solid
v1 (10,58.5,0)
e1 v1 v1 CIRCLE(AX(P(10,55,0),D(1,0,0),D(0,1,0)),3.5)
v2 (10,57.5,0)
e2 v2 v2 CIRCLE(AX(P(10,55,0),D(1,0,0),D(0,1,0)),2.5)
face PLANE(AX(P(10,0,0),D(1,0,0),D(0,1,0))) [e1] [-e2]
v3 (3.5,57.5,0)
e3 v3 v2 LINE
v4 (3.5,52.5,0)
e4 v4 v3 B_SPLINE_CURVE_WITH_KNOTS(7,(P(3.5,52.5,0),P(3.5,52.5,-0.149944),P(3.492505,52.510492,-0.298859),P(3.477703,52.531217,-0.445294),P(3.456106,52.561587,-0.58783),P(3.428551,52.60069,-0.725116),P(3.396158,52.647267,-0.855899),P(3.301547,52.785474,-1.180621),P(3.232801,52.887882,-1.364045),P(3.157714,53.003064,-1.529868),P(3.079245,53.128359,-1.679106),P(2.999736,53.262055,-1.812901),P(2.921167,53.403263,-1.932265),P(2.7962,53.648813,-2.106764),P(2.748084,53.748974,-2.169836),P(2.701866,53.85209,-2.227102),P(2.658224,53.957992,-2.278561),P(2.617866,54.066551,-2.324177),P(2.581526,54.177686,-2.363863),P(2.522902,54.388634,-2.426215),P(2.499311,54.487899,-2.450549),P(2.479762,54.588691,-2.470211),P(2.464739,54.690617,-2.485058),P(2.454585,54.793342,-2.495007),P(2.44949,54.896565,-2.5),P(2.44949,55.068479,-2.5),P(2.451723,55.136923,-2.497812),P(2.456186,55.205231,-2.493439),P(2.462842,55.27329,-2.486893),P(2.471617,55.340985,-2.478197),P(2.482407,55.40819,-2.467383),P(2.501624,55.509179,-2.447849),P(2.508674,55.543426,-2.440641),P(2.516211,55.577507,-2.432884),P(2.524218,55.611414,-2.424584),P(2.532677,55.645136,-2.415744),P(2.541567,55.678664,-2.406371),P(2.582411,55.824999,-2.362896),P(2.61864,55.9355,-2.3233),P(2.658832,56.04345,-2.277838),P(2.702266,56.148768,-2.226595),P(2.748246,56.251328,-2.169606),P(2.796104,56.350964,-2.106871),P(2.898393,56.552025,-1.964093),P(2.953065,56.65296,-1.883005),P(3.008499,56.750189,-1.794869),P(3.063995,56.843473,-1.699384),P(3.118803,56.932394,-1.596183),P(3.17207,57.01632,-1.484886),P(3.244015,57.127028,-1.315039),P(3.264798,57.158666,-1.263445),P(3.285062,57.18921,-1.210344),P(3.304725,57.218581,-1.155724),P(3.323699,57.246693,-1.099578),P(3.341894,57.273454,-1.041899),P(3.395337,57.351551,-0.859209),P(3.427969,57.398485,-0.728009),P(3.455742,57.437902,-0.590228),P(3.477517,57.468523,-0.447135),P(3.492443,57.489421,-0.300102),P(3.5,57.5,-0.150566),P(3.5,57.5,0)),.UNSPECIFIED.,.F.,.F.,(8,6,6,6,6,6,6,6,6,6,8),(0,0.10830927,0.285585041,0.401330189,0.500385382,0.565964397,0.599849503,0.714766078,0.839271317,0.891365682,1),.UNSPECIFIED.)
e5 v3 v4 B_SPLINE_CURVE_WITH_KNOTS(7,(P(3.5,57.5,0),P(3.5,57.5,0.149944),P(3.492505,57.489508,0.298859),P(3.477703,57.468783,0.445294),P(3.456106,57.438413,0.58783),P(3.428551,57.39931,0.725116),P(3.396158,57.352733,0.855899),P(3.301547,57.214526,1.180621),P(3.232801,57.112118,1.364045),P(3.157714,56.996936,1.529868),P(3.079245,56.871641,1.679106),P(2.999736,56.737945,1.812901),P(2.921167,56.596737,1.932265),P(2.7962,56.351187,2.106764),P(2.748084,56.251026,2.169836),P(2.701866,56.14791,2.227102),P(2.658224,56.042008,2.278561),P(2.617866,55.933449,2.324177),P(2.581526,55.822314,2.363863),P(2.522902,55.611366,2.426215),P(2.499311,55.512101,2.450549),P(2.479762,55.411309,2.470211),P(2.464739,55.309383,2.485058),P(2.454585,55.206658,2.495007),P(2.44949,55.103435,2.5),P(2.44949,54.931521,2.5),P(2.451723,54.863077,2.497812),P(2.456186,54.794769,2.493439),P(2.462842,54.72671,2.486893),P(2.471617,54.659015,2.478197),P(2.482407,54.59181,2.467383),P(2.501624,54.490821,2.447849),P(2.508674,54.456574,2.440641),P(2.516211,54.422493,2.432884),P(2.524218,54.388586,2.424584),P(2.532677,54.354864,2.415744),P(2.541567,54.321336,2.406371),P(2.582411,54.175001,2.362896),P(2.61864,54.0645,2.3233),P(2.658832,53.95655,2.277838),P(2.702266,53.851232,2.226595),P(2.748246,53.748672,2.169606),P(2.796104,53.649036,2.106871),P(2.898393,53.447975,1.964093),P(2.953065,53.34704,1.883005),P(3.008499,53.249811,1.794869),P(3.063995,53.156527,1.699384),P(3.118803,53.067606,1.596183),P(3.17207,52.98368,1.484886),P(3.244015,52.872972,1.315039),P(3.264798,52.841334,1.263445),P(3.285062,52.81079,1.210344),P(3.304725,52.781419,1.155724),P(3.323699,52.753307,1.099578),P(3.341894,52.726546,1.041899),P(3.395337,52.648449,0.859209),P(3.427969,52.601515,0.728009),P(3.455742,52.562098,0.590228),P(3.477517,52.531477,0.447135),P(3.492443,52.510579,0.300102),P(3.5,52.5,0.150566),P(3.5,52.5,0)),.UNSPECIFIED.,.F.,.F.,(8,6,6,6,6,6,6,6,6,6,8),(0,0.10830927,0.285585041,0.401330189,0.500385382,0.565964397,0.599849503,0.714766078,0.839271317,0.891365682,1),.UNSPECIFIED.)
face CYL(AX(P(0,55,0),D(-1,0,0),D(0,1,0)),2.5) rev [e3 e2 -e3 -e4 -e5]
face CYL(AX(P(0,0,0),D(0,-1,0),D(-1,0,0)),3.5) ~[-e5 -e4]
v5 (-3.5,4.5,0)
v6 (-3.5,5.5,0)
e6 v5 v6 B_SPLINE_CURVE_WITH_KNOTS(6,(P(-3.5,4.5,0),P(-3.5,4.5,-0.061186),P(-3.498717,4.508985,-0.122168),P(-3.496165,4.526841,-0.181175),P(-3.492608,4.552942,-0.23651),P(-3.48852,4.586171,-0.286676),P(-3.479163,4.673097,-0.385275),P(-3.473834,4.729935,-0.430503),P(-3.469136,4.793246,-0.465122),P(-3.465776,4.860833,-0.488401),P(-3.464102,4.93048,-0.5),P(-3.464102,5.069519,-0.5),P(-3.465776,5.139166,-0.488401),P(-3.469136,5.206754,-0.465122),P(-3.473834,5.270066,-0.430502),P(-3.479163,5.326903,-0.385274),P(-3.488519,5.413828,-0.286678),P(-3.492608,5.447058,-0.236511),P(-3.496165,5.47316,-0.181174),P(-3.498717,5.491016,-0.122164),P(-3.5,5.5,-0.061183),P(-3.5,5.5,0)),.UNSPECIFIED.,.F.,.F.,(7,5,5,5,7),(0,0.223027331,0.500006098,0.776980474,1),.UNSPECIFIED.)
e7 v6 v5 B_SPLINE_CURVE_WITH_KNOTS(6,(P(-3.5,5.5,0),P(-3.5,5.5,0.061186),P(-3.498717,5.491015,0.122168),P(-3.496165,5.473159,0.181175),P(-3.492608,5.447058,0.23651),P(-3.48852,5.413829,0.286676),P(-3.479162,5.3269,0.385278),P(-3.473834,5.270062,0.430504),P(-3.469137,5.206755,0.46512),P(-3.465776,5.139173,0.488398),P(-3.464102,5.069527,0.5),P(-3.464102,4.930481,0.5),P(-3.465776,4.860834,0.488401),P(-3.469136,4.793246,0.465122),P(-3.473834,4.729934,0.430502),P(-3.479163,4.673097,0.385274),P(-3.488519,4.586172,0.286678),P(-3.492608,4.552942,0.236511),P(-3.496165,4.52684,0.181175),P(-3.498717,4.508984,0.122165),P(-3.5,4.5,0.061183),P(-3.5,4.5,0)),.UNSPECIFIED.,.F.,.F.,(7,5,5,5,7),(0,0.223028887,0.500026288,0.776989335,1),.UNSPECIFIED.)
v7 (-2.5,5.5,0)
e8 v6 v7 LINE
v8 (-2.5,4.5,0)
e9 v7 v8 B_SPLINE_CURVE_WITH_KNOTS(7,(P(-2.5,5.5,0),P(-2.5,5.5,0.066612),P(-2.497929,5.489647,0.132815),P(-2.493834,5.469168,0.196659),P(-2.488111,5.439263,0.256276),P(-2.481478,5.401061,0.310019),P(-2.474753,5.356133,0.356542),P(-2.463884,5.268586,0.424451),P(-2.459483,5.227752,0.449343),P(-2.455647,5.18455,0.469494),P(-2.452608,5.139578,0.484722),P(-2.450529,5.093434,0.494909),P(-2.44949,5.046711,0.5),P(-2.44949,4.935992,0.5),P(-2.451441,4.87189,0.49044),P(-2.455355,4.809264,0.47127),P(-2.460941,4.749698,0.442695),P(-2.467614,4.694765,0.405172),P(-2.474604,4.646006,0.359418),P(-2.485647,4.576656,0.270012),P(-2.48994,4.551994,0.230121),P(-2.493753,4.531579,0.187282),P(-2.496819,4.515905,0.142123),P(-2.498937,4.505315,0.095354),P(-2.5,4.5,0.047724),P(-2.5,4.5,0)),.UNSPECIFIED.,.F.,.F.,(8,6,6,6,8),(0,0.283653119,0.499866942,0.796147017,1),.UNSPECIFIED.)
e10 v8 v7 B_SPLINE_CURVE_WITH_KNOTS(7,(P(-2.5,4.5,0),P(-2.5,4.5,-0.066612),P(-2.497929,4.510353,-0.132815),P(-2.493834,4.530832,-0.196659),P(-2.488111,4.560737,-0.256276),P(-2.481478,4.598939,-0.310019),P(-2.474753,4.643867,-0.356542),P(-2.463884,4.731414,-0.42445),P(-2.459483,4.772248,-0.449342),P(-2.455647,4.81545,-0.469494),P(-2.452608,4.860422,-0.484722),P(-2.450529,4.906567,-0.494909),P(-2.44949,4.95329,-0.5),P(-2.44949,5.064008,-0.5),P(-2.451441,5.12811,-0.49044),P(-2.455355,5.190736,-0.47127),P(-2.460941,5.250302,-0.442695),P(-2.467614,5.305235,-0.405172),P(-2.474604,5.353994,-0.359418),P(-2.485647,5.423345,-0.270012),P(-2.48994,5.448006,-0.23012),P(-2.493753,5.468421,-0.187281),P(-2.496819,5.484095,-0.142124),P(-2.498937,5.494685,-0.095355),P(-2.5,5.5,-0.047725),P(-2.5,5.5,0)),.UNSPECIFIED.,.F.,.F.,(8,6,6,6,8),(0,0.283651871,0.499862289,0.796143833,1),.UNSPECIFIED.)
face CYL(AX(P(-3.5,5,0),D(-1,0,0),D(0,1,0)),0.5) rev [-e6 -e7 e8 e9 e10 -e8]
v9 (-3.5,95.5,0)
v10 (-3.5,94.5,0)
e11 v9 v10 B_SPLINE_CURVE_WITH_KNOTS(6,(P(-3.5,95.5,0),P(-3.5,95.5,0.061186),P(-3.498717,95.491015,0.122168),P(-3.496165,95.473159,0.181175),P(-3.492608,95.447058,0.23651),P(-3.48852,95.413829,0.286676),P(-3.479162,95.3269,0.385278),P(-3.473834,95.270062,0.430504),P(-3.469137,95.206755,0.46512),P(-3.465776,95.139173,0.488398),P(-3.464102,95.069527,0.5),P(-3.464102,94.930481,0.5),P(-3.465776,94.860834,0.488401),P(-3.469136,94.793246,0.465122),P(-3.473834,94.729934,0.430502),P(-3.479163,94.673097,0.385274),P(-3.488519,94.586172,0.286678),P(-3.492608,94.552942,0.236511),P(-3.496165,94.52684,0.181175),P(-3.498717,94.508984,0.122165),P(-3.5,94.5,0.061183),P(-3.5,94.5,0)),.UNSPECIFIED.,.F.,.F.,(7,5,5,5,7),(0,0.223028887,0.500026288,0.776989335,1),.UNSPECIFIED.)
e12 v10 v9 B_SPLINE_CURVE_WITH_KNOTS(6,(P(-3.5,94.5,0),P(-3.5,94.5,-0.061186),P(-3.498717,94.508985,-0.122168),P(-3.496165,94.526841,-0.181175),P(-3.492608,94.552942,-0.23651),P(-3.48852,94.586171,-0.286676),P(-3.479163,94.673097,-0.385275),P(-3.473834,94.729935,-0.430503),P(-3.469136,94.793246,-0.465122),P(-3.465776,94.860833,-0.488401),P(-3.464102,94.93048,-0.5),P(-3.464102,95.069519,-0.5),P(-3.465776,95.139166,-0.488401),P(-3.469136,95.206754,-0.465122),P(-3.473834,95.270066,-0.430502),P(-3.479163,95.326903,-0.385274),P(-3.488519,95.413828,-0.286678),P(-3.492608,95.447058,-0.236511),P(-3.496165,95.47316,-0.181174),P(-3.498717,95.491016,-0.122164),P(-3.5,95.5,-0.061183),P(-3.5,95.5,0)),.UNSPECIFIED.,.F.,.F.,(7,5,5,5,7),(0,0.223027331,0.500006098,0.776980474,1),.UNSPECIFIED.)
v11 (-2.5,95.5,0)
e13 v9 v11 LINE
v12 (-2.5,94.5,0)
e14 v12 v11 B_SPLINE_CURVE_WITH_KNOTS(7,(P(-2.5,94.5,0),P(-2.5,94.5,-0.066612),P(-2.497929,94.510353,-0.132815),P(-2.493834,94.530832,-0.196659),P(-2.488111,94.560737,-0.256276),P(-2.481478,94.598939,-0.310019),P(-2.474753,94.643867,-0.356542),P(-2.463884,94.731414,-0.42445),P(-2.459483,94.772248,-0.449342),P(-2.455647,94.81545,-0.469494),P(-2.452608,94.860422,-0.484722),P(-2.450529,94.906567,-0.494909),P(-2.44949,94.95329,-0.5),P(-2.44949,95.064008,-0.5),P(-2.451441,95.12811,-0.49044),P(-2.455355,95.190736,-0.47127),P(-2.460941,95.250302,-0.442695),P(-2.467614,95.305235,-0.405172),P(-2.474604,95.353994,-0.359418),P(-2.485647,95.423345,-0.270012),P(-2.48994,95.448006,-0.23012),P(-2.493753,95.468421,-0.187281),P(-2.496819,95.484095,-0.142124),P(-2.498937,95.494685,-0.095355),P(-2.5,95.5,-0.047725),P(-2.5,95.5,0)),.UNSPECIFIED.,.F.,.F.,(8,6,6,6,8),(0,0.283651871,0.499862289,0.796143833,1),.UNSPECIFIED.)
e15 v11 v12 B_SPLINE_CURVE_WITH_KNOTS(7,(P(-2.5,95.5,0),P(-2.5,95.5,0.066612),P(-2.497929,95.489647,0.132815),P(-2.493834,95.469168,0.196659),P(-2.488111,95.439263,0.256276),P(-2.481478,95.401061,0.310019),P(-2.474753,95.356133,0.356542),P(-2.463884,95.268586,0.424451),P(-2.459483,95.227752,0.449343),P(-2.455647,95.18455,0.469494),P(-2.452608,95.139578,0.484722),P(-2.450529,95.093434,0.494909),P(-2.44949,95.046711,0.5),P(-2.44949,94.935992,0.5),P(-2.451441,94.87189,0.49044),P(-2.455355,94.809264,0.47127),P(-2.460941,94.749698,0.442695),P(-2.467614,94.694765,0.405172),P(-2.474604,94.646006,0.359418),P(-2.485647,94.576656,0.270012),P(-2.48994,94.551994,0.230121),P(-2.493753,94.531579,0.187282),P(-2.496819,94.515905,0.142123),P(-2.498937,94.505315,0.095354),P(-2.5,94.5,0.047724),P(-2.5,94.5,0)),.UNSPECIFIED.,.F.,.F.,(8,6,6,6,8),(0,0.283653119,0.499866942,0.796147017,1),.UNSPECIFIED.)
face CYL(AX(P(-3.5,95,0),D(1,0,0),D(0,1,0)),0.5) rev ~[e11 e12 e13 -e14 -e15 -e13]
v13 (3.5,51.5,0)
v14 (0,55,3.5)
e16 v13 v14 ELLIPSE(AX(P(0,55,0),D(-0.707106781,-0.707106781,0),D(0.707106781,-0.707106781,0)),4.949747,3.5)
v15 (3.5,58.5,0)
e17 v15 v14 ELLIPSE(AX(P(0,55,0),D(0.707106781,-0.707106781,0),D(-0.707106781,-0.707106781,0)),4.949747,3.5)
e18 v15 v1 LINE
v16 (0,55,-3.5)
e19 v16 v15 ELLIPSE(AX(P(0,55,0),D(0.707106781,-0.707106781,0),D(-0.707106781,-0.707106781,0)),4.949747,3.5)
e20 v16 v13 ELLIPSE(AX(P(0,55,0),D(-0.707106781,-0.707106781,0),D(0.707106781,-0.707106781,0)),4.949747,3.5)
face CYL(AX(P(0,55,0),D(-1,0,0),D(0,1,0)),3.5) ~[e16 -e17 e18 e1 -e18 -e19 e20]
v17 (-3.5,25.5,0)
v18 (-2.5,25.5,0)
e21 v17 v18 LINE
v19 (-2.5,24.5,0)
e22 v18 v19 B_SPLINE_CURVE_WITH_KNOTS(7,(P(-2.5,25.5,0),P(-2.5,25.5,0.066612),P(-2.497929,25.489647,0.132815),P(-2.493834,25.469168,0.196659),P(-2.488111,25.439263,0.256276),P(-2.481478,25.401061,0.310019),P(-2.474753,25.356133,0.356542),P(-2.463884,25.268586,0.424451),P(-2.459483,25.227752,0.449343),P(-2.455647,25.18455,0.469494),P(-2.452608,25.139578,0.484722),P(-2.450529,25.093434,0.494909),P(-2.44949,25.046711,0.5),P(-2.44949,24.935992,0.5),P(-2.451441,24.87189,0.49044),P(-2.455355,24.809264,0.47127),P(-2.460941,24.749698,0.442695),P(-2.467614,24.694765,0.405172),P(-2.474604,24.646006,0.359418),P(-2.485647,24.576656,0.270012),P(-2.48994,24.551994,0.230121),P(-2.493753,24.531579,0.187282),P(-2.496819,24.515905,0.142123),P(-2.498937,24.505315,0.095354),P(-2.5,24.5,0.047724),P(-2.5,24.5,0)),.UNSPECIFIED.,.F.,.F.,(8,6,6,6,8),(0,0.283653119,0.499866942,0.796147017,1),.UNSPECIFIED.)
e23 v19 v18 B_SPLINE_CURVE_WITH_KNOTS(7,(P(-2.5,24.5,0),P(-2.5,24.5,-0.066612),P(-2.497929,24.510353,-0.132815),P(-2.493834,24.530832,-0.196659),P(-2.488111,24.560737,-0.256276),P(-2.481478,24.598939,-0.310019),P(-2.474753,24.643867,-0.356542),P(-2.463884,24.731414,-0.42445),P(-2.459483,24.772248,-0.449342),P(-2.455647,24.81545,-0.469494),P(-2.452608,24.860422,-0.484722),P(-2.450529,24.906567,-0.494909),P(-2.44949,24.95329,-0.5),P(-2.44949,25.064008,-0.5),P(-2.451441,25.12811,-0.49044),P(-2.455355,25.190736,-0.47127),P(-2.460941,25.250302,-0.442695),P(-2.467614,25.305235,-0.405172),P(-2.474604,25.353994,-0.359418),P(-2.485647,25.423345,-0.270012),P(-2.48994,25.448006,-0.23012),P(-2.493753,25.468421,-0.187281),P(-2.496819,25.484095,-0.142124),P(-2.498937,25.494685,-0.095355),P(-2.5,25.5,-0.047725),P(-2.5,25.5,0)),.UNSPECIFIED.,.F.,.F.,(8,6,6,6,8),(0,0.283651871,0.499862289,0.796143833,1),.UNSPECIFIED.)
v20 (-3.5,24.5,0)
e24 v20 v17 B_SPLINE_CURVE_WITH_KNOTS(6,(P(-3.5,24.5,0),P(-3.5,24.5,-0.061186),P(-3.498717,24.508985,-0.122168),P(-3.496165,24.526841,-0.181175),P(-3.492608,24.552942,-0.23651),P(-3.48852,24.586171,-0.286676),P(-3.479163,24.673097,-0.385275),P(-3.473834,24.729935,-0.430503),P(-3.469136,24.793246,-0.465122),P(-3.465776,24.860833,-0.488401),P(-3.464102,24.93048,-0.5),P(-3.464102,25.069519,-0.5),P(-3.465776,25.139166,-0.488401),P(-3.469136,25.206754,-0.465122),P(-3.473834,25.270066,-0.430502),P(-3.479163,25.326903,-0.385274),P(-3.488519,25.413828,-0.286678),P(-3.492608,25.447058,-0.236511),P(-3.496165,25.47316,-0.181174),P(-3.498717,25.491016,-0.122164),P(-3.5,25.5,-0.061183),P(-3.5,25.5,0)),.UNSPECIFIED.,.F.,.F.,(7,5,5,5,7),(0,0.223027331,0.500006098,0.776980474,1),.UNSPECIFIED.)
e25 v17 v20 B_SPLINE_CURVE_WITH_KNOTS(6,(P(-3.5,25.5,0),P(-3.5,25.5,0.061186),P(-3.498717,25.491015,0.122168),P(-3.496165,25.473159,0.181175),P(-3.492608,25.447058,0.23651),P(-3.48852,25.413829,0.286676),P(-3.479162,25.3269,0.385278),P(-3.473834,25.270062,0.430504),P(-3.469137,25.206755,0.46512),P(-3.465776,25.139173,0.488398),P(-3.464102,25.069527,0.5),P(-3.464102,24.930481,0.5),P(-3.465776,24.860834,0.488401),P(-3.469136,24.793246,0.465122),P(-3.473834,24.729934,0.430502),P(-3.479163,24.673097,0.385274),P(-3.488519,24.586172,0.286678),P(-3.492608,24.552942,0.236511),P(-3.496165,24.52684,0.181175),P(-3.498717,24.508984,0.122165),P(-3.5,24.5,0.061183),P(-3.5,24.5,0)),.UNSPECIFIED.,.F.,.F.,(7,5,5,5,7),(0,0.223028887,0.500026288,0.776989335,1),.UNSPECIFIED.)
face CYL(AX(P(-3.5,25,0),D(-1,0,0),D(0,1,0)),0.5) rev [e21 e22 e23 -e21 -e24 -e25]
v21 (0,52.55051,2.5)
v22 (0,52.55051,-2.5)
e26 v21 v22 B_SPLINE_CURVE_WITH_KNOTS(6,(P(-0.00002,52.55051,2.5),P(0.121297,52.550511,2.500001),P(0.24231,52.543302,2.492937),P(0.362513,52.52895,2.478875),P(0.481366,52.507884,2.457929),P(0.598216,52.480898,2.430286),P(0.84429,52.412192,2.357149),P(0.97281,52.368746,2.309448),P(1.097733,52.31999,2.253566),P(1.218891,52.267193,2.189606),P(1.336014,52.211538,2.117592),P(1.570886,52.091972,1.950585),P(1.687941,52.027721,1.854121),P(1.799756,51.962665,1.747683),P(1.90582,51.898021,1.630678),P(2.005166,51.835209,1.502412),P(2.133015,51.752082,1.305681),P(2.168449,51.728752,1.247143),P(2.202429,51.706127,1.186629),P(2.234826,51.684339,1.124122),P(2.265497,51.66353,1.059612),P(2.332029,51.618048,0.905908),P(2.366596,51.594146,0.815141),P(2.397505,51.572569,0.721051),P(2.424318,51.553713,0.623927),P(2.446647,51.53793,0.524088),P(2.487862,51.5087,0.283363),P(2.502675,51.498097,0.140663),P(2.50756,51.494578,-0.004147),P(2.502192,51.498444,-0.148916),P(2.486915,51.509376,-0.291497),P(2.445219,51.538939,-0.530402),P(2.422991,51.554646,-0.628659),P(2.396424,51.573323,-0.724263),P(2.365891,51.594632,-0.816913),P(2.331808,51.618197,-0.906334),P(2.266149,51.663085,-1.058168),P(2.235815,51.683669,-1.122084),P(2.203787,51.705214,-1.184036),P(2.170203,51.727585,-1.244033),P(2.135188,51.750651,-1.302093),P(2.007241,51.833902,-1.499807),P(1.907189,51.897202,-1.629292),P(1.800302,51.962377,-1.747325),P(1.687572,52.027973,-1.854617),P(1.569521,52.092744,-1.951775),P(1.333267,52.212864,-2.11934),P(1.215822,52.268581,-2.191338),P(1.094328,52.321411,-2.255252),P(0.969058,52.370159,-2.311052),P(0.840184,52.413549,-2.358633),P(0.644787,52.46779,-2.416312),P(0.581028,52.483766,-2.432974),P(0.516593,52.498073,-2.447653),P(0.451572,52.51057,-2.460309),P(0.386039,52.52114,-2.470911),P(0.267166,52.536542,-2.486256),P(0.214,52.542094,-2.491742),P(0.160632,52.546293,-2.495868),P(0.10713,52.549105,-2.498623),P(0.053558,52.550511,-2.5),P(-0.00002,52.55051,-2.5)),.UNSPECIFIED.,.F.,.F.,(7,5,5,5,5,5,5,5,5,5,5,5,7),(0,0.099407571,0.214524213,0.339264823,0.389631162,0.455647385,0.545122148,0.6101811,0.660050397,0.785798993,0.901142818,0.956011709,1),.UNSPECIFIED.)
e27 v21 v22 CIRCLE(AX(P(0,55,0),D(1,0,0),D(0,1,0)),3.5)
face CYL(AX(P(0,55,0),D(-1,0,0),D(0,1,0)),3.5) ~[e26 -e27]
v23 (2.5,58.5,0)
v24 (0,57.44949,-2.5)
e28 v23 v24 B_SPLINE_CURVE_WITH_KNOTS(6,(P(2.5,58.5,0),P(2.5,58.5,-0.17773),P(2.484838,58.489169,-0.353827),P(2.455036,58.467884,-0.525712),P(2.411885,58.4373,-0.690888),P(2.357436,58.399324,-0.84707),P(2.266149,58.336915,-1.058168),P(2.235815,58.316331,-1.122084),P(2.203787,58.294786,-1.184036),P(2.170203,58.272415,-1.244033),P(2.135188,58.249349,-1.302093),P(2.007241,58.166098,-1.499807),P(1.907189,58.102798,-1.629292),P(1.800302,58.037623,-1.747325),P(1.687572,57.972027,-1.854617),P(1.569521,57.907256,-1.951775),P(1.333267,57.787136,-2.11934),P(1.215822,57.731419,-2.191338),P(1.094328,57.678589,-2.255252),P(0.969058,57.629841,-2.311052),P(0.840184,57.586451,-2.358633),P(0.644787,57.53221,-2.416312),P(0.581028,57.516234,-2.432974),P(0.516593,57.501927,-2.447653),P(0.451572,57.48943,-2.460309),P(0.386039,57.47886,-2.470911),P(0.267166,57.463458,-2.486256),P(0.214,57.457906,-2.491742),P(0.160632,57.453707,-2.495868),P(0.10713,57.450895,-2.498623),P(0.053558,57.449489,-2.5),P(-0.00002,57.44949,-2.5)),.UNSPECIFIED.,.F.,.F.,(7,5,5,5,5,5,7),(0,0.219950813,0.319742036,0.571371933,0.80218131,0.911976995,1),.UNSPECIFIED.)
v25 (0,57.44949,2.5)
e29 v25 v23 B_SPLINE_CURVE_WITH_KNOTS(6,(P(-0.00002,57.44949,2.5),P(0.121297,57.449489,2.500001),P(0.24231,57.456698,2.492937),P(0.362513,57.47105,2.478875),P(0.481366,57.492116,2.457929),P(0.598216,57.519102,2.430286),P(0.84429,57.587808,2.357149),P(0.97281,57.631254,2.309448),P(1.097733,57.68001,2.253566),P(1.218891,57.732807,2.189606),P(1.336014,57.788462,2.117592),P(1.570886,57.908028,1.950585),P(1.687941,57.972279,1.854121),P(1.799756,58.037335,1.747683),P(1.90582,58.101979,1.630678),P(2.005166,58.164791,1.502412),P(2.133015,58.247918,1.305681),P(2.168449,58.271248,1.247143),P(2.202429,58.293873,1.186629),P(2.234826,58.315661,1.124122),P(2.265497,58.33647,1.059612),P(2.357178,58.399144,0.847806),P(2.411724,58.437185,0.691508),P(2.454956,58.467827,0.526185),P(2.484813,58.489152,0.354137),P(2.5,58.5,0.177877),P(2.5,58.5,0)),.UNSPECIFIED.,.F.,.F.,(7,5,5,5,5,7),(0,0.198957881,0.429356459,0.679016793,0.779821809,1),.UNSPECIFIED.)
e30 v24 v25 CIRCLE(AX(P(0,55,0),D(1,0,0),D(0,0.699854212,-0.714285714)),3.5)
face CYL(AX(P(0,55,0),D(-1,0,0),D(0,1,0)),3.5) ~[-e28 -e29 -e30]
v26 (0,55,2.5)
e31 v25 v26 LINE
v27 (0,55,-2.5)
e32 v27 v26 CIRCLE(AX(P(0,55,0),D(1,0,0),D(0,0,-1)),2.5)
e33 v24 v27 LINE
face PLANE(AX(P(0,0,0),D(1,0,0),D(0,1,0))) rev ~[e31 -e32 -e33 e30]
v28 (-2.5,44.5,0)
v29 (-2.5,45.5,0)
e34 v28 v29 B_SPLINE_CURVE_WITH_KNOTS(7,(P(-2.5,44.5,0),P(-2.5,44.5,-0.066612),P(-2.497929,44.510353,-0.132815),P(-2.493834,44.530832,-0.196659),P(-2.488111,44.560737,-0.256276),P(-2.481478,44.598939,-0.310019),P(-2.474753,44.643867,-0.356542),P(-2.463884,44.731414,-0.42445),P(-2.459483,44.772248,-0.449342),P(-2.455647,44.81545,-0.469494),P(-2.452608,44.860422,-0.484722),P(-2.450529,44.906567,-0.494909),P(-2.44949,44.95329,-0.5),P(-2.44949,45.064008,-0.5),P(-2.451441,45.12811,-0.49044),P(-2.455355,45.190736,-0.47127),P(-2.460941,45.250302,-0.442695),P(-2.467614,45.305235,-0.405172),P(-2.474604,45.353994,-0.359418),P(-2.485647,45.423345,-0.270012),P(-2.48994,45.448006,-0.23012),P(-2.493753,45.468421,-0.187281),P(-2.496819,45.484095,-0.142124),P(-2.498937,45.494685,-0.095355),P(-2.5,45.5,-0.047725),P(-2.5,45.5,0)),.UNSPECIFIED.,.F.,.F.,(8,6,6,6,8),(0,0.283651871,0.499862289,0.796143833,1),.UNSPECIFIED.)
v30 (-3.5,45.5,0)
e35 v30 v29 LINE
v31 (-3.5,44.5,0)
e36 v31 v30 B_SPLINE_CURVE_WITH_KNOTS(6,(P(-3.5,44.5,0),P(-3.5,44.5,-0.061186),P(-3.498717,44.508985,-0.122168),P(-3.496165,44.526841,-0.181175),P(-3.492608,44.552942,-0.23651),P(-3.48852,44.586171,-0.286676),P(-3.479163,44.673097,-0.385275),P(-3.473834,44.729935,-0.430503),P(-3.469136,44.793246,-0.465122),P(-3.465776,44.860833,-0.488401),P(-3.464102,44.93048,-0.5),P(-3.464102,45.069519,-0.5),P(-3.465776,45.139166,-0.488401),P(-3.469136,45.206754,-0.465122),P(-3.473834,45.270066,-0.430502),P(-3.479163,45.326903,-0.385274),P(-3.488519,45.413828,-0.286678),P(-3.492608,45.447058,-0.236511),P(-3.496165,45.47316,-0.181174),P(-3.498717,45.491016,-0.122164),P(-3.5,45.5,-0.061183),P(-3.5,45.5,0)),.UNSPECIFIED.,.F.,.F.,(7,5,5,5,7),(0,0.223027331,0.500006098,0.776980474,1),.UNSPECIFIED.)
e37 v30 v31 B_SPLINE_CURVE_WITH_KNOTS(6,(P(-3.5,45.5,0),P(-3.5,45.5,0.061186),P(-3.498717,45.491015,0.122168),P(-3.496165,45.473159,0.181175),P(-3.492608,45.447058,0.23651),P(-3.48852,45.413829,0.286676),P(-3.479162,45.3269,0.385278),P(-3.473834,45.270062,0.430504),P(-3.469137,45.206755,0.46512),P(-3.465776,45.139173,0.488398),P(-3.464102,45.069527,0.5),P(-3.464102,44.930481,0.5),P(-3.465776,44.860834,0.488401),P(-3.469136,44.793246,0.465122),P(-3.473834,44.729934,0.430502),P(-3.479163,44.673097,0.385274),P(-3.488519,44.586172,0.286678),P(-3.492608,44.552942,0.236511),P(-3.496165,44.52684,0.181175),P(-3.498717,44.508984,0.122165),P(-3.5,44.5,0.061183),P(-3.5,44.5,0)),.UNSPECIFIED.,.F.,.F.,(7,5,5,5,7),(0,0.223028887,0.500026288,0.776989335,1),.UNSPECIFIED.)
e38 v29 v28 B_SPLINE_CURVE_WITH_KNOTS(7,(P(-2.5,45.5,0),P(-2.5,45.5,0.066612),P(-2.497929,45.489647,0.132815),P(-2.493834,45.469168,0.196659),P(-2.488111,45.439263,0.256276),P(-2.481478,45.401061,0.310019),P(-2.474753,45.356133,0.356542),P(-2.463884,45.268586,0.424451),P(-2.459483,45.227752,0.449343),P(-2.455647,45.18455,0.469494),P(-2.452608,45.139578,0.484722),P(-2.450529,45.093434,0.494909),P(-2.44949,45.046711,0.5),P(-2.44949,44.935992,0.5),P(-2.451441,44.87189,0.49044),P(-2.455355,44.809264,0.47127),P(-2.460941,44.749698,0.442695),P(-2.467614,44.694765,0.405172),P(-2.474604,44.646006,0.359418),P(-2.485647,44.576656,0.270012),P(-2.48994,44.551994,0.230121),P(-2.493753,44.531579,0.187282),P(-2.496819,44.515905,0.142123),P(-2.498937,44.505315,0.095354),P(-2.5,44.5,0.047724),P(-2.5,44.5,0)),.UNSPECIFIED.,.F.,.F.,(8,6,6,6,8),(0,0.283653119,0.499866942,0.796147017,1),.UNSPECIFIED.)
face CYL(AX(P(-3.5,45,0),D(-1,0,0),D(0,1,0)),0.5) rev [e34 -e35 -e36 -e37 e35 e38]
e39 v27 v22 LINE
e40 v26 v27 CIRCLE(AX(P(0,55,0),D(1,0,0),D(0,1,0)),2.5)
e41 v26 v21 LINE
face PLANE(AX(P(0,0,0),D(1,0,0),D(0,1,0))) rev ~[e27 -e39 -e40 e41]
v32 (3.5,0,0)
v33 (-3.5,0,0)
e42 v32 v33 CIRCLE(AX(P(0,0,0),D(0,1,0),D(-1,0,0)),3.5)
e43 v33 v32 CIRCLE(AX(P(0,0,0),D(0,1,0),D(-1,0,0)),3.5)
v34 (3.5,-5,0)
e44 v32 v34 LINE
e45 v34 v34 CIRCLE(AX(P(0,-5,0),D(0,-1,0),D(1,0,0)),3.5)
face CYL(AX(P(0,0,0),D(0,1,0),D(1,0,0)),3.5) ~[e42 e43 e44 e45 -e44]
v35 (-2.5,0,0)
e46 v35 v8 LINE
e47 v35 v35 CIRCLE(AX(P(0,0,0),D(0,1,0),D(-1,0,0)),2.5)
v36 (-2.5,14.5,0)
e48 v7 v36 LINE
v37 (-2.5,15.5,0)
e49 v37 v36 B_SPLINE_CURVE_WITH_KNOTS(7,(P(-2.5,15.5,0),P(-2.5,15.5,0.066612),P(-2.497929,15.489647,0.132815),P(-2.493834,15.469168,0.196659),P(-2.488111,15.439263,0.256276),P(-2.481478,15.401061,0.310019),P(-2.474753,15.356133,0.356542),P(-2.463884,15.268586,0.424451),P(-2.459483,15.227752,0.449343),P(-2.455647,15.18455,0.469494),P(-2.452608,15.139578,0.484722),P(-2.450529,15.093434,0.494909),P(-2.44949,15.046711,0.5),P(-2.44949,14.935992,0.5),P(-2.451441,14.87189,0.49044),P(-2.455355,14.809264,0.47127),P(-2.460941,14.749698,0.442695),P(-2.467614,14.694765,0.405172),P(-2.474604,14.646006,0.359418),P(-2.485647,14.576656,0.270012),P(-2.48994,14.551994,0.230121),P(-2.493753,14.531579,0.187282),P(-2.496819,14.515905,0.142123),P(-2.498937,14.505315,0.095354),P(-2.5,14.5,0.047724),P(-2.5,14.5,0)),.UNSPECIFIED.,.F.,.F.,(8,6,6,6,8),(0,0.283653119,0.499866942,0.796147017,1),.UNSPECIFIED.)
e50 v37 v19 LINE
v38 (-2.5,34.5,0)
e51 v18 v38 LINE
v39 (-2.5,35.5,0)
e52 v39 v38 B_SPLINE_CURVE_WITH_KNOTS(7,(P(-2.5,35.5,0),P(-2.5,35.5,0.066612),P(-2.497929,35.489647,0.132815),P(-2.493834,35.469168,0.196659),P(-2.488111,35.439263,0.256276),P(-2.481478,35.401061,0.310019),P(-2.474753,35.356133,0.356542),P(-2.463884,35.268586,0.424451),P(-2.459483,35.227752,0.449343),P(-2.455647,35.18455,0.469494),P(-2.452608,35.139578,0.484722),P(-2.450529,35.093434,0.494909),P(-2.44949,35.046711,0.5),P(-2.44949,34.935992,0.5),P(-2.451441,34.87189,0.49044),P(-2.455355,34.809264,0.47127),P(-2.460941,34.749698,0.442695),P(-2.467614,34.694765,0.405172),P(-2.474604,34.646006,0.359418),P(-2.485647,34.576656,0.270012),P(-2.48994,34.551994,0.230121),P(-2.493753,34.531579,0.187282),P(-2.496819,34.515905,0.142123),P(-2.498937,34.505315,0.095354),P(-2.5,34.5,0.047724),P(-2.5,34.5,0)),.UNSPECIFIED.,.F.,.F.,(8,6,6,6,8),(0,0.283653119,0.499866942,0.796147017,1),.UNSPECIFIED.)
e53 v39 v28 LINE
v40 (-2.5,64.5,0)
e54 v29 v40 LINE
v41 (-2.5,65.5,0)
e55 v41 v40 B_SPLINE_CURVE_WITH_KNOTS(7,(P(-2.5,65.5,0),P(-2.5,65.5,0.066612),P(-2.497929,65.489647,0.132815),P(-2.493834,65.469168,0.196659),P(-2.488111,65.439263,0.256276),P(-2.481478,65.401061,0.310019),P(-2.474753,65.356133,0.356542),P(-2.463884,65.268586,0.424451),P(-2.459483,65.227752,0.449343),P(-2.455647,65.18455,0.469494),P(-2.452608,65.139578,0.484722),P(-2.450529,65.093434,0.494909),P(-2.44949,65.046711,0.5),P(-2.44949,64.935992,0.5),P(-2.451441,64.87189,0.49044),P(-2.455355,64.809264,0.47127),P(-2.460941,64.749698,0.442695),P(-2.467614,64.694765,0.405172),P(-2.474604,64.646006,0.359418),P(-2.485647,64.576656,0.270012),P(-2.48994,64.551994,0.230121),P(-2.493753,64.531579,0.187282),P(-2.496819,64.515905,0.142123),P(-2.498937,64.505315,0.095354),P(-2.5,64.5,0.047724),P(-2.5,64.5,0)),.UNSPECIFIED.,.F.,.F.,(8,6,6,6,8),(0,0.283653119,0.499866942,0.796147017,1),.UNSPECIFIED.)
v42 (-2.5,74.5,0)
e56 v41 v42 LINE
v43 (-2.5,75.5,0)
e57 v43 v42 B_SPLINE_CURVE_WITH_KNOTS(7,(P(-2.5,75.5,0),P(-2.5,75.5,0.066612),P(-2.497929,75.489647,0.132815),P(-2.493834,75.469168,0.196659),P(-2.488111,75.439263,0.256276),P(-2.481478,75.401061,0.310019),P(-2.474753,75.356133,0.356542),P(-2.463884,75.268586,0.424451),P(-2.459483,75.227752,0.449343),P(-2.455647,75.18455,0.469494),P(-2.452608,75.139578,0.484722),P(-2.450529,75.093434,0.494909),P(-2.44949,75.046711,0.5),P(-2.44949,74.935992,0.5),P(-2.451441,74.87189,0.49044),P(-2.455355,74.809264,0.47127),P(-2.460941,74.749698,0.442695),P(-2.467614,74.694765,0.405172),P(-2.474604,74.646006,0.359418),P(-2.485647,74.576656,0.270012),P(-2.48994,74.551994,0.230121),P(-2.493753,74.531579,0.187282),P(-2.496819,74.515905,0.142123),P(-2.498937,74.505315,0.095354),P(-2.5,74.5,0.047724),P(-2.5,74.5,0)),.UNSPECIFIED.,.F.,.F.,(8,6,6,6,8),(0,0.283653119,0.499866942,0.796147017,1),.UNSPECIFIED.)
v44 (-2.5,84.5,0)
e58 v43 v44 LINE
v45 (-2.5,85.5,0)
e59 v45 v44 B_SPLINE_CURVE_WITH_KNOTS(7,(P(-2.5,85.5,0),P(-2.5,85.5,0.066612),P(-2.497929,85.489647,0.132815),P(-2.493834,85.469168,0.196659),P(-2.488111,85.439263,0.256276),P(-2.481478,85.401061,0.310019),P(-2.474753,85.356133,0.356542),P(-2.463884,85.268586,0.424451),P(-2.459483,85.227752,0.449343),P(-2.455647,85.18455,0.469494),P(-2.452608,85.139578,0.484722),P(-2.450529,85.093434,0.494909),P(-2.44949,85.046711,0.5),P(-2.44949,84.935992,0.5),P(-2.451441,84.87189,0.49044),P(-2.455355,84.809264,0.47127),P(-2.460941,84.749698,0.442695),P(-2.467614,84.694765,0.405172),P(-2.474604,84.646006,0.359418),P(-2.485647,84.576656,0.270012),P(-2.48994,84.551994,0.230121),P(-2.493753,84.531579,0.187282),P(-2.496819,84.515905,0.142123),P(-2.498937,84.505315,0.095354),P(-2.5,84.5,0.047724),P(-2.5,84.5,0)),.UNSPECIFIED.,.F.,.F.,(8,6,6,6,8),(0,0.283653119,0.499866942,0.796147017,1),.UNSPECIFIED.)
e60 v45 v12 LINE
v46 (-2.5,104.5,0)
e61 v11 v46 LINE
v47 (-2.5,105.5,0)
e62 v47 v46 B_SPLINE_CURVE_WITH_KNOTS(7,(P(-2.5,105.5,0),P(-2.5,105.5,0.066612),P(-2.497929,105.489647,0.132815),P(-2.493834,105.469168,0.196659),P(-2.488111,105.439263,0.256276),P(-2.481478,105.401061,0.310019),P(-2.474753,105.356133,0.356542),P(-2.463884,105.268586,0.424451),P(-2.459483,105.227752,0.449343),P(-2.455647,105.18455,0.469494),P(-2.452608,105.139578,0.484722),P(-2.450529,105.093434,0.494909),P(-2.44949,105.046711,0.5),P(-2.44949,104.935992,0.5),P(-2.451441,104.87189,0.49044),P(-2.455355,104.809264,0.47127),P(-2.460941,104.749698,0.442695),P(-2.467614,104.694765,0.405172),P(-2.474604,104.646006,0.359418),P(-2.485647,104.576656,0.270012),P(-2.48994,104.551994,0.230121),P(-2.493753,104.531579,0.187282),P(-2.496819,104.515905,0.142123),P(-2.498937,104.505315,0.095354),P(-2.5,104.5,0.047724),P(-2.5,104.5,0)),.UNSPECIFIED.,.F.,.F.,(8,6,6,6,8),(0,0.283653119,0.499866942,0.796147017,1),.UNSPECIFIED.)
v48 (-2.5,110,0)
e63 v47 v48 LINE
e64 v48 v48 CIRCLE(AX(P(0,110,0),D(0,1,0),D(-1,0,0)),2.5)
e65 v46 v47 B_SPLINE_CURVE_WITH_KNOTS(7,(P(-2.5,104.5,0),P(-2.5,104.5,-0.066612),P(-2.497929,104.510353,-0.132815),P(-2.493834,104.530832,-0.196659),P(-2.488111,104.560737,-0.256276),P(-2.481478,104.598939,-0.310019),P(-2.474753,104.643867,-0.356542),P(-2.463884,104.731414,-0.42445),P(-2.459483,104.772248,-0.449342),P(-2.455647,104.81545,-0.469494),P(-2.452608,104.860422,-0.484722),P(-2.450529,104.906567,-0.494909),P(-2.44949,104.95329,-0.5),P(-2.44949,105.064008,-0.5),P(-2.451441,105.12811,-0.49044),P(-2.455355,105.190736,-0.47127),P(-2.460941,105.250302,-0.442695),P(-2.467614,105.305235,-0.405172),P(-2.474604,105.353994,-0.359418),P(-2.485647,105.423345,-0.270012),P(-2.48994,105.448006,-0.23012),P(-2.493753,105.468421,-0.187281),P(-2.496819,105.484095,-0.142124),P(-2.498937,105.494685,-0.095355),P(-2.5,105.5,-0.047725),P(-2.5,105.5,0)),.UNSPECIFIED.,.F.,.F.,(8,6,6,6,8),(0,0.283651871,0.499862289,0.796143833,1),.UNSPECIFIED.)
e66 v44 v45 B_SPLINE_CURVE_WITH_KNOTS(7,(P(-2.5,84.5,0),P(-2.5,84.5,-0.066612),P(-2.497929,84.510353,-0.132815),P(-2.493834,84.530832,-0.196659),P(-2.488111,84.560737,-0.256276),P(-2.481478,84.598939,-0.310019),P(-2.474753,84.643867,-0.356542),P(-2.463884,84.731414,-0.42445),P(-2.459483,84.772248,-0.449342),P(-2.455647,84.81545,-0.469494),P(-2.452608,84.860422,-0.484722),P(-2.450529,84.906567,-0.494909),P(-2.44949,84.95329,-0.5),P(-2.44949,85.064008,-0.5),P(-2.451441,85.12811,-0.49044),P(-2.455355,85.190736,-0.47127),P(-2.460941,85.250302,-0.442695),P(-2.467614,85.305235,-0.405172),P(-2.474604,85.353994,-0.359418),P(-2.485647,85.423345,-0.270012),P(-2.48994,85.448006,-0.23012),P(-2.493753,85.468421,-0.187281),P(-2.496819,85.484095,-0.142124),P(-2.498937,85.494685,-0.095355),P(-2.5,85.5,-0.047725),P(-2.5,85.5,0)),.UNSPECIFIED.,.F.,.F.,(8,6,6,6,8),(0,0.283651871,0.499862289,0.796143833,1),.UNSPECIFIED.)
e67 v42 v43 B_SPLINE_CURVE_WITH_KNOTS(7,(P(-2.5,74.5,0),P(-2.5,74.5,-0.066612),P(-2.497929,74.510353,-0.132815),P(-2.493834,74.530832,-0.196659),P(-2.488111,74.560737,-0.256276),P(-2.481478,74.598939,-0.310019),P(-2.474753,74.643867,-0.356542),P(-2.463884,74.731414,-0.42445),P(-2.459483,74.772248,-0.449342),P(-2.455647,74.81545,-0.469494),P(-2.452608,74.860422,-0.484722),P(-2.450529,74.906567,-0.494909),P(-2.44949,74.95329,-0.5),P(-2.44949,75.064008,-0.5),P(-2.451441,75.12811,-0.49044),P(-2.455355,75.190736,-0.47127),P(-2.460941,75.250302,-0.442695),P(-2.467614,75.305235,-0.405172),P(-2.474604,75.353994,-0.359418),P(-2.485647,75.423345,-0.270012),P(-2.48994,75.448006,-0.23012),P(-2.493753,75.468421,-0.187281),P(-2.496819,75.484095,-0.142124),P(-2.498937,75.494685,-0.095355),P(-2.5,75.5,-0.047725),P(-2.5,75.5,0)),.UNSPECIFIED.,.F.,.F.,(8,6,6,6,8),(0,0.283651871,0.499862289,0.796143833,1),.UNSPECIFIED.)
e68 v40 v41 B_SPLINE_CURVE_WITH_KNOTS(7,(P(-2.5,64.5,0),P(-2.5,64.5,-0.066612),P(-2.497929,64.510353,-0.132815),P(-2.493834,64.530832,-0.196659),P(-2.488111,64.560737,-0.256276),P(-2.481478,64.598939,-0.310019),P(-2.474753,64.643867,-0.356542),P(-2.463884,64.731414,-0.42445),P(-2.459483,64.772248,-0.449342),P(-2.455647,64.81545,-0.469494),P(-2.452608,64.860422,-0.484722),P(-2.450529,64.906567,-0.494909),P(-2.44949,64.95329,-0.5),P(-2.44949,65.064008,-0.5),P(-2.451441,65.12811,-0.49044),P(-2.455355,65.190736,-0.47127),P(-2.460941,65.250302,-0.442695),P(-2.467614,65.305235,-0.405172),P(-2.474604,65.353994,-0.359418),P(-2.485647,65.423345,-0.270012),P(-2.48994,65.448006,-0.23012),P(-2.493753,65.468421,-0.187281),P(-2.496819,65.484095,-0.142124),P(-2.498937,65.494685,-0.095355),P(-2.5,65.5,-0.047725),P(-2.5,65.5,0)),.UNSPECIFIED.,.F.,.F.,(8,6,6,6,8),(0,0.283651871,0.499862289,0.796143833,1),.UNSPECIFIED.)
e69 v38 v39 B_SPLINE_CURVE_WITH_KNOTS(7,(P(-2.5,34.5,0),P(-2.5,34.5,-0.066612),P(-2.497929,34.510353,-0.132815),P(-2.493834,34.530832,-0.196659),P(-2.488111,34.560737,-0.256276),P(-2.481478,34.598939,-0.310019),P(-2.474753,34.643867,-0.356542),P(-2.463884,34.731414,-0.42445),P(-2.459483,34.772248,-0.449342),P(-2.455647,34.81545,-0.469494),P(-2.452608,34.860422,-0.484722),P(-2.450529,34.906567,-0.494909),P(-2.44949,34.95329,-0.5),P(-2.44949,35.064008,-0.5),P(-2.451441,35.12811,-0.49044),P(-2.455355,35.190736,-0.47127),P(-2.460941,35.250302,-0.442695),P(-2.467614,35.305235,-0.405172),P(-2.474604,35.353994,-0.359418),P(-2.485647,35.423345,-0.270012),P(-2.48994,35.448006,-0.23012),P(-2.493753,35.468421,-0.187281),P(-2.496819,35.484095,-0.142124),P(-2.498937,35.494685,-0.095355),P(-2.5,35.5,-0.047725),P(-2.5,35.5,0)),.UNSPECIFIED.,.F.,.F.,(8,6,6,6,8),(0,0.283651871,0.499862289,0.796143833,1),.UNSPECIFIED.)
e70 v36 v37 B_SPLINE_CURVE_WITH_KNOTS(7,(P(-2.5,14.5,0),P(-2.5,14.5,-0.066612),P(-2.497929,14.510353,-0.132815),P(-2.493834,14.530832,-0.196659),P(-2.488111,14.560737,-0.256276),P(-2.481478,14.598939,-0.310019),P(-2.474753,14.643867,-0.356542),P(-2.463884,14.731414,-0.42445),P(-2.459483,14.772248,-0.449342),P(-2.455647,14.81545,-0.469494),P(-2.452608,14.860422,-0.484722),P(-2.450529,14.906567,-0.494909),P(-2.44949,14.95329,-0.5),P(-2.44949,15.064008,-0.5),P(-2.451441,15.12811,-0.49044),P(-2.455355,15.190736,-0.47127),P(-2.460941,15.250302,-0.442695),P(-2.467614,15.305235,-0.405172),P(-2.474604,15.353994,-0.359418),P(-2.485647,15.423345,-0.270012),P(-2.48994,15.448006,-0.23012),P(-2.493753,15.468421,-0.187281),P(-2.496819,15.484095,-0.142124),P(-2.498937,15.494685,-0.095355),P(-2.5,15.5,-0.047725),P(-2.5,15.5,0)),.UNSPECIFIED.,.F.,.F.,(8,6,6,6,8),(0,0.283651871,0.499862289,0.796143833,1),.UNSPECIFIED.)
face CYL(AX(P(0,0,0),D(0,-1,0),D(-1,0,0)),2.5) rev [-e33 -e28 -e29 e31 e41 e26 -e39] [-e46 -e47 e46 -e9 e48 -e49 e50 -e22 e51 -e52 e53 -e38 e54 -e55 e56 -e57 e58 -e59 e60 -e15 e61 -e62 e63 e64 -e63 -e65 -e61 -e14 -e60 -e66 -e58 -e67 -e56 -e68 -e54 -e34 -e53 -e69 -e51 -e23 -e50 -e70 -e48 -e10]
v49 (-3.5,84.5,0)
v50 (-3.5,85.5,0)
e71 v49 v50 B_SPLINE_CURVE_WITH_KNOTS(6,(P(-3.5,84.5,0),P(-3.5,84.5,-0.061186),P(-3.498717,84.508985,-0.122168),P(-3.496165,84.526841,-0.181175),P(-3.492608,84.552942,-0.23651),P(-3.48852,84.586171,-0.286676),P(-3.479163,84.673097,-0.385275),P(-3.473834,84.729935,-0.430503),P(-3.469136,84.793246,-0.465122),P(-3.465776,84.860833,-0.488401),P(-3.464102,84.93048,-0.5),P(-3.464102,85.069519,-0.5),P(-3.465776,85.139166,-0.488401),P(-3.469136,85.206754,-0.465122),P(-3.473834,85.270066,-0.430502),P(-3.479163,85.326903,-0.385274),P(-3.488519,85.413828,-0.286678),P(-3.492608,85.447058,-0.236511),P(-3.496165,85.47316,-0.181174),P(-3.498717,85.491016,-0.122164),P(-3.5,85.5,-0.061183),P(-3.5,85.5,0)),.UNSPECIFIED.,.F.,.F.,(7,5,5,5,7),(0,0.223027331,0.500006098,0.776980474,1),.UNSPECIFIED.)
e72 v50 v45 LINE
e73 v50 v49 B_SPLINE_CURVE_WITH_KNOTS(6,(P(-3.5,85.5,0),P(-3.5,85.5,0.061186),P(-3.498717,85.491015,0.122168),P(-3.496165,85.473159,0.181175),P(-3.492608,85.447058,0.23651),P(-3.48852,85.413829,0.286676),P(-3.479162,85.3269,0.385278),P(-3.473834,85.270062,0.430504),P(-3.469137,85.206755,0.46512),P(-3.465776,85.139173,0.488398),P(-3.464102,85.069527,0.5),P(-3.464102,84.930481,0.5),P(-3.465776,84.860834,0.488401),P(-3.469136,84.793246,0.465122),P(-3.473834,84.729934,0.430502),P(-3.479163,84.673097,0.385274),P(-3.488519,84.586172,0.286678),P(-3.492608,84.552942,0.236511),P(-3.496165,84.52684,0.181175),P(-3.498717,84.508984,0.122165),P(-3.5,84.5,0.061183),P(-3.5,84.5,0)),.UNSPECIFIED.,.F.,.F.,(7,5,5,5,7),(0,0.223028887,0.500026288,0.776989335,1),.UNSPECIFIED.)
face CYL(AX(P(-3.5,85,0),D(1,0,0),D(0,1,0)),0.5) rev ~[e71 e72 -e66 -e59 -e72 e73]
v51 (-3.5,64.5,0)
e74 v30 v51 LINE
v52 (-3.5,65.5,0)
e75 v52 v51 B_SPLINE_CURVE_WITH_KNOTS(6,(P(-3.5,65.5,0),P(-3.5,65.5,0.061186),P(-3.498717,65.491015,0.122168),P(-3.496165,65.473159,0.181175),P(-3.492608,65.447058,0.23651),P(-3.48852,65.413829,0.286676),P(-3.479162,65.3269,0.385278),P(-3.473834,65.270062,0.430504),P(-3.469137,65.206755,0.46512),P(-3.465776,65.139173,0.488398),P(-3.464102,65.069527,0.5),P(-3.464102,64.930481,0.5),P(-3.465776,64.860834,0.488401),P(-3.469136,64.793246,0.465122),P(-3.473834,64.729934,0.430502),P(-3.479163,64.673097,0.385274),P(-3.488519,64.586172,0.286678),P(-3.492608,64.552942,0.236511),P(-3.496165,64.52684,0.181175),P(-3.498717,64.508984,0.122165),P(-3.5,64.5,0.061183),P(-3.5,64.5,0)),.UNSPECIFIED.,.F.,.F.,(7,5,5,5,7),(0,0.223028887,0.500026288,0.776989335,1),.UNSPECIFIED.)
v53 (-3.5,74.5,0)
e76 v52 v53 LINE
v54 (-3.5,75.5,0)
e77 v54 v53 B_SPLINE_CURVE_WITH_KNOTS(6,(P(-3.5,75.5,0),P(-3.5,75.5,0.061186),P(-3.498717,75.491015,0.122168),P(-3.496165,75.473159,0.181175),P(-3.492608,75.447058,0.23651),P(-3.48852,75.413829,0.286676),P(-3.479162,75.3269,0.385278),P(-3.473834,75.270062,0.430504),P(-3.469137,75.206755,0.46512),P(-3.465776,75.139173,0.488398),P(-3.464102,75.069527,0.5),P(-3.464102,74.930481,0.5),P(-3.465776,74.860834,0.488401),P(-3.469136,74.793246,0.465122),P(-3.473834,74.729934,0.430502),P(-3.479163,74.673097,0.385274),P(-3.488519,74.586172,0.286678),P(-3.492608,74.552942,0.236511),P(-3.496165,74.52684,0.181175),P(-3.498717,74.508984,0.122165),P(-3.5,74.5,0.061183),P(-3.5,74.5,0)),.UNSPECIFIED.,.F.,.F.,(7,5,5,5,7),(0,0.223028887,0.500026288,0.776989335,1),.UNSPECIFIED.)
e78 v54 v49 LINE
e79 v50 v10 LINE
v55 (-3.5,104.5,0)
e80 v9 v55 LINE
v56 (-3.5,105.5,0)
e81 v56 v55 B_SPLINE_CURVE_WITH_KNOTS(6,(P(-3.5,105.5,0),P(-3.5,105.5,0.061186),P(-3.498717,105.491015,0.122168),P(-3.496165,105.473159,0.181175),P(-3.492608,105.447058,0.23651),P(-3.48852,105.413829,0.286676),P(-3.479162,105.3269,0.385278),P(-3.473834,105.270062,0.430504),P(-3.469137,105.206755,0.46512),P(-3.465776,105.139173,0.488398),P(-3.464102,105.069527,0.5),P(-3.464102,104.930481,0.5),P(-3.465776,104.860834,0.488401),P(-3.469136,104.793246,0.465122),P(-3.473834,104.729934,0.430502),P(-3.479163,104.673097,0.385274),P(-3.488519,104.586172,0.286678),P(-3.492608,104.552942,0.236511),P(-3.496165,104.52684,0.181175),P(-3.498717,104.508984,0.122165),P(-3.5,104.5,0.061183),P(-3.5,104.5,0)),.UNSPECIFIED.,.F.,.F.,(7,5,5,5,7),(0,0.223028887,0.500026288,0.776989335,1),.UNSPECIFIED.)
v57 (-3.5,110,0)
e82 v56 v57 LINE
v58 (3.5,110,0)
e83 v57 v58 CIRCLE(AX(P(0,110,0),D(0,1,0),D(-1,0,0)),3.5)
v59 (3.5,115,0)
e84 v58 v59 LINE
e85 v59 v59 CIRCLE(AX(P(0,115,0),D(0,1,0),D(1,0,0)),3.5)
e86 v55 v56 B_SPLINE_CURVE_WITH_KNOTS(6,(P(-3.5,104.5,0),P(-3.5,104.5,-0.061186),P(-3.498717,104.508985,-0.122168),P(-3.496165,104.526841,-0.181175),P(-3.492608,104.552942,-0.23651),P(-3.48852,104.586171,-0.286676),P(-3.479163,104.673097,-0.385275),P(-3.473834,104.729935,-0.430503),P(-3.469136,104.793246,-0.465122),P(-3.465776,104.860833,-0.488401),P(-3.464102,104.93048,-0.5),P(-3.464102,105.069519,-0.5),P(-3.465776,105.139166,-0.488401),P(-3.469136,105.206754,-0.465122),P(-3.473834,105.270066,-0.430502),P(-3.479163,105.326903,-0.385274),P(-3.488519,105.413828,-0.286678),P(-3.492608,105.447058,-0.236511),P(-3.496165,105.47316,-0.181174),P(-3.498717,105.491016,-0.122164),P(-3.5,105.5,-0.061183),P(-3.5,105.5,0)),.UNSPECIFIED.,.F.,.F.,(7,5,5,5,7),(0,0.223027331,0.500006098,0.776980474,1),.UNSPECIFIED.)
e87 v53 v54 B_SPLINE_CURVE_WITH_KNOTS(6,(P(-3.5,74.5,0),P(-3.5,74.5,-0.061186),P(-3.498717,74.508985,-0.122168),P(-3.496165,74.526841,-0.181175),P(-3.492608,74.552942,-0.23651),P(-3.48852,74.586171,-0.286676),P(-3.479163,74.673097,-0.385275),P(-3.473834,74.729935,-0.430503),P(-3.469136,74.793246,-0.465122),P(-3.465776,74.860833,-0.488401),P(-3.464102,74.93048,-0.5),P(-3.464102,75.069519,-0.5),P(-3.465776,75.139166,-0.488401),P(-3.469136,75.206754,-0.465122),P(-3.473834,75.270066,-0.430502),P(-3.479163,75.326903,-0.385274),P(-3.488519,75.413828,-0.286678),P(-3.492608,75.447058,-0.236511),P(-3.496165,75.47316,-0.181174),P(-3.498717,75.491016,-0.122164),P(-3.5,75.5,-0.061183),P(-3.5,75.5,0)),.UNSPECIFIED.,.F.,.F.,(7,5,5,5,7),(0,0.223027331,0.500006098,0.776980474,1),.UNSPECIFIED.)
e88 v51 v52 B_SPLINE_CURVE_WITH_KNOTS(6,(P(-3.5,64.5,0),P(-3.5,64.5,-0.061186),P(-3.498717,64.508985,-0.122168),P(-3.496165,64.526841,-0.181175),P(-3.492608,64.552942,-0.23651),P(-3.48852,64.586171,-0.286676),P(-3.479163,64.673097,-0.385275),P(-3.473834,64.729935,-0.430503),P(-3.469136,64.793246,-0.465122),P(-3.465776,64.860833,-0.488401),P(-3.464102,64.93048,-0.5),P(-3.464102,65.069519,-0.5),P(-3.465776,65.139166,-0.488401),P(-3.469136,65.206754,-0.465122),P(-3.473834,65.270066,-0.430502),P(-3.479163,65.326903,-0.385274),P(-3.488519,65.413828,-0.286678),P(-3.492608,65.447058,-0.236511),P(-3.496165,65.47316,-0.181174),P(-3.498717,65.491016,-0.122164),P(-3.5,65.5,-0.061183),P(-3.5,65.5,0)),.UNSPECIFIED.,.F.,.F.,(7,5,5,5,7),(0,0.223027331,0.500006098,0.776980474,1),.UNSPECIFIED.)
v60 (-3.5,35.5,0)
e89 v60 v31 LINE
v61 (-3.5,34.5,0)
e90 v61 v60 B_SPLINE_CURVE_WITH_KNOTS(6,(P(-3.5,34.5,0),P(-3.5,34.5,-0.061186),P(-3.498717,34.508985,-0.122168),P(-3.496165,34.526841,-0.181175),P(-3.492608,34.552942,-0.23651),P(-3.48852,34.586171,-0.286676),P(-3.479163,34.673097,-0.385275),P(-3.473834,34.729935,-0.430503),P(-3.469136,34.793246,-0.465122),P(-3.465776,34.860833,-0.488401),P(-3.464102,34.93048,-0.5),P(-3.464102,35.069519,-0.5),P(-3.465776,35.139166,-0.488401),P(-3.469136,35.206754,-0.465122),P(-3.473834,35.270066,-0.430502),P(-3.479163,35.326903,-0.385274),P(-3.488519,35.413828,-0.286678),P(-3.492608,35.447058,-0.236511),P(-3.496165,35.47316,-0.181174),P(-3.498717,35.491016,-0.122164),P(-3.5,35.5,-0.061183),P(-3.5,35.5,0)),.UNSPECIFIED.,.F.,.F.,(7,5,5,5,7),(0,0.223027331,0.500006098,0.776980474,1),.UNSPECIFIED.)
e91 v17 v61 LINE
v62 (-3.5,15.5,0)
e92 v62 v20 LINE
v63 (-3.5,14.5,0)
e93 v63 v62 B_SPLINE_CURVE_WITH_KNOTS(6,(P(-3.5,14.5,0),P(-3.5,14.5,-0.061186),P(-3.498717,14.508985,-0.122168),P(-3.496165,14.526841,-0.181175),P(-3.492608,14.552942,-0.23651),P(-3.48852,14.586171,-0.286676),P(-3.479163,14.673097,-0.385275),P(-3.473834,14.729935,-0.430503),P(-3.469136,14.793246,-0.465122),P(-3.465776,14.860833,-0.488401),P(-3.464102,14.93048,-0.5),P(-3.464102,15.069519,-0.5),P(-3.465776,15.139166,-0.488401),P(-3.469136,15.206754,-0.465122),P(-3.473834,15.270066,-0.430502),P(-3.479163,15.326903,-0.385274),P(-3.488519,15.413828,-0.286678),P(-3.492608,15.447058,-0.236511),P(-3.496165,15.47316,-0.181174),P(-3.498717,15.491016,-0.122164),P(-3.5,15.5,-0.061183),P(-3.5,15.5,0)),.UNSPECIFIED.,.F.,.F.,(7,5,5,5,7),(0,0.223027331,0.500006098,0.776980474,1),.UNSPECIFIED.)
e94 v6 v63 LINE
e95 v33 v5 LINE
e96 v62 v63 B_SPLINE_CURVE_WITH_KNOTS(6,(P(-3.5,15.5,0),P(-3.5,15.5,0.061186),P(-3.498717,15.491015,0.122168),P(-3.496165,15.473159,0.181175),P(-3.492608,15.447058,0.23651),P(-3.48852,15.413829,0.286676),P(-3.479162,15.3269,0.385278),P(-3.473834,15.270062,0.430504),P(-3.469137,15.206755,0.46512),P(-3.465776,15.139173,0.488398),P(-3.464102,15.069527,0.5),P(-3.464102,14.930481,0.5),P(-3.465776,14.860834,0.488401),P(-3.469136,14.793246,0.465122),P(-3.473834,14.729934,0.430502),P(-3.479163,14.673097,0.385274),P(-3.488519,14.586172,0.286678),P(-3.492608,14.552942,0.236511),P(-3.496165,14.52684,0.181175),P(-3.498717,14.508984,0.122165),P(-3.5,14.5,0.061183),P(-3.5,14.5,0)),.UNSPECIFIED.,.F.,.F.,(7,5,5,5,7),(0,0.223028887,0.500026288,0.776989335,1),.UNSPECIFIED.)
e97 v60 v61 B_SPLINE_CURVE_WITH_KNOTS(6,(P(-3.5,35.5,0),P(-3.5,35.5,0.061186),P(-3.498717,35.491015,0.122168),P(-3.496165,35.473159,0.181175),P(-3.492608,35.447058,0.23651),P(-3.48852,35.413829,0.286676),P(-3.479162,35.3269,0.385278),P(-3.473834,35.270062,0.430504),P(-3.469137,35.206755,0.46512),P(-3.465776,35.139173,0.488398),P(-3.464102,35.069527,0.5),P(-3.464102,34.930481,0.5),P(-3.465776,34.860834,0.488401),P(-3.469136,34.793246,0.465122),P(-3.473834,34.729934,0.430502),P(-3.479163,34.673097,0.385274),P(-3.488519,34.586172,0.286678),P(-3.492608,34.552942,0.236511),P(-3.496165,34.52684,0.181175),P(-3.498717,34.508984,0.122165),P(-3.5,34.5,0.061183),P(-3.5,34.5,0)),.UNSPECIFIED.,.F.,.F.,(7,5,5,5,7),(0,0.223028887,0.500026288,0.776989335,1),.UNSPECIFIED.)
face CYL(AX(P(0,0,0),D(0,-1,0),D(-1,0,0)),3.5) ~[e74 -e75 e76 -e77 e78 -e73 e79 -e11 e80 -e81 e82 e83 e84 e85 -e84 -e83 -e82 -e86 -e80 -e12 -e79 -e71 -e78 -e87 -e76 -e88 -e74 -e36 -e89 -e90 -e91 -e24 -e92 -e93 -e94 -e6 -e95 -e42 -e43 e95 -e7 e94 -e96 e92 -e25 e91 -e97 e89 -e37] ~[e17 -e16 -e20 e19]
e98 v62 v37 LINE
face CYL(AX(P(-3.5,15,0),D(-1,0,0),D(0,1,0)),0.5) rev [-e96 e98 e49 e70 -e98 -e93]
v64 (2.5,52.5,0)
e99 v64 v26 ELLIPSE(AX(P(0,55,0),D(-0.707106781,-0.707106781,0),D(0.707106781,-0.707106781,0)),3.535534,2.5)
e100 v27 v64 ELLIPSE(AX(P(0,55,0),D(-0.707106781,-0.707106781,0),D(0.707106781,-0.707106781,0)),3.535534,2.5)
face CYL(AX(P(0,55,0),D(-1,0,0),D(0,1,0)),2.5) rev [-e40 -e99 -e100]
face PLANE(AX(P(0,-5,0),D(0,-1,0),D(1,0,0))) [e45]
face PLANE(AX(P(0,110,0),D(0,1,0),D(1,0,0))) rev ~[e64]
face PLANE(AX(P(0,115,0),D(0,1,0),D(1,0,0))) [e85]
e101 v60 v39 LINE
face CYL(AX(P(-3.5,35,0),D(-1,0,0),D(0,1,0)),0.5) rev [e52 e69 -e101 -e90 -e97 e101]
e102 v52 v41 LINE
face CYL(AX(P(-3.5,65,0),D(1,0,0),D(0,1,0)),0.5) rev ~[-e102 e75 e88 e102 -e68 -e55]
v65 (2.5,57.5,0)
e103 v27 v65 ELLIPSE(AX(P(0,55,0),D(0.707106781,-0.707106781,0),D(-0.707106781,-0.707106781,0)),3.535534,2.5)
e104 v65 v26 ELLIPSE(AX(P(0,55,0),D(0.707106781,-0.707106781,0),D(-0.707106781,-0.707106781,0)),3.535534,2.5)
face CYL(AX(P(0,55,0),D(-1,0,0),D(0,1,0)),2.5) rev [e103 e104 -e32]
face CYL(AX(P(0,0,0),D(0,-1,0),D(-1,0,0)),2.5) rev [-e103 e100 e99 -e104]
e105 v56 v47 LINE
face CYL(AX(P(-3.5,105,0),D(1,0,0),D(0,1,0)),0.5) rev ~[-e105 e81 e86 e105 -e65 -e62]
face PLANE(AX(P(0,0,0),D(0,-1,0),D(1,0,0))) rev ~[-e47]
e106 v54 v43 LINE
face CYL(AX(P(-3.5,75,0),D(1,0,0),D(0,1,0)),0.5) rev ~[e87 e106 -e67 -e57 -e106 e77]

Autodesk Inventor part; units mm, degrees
ref_plane "YZ Plane" through (0, 0, 0) normal (1, 0, 0) x (0, 1, 0)
ref_plane "XZ Plane" through (0, 0, 0) normal (0, 1, 0) x (-1, 0, 0)
ref_plane "XY Plane" through (0, 0, 0) normal (0, 0, 1) x (1, 0, 0)
sketch "Sketch1" plane through (0, 0, 0) normal (0, 1, 0) x (-1, 0, 0)
  point P0 (0, 0)
sketch "Sketch2" plane through (0, 0, 0) normal (0, 1, 0) x (-1, 0, 0)
  circle A0 centre (0, 0) radius 2.5
  circle A1 centre (0, 0) radius 3.5
  dimension "d0" = 5
  dimension "d1" = 7
extrude "Extrusion1" add sketch "Sketch2" along normal blind 110
sketch "Sketch3" plane through (0, 110, 0) normal (0, 1, 0) x (1, 0, 0)
  circle A0 centre (0, 0) radius 3.5
extrude "Extrusion2" add sketch "Sketch3" along normal blind 5
sketch "Sketch4" plane through (0, 0, 0) normal (0, -1, 0) x (1, 0, 0)
  circle A0 centre (0, 0) radius 3.5
extrude "Extrusion3" add sketch "Sketch4" along normal blind 5
sketch "Sketch5" plane through (0, 0, 0) normal (0, 0, 1) x (1, 0, 0)
  point P0 (0, 0)
sketch "Sketch6" plane through (0, 0, 0) normal (1, 0, 0) x (0, 1, 0)
  circle A0 centre (55, 0) radius 2.5
  circle A1 centre (55, 0) radius 3.5
  point P0 (0, 0)
  dimension "d8" = 5
  dimension "d9" = 7
extrude "Extrusion4" add sketch "Sketch6" along normal blind 10
sketch "Sketch7" plane through (0, 0, 0) normal (0, 0, 1) x (1, 0, 0)
  line L0 (-3.5, -5) -> (3.5, -5) projected
  line L1 (-3.5, -5) -> (-3.5, 115)
  line L2 (-3.5, -5) -> (-3.5, 115) projected
  point P0 (0, 0)
ref_plane "Work Plane5" through (-3.5, 115, 0) normal (1, 0, 0) x (0, 1, 0)
sketch "Sketch8" plane through (-3.5, 115, 0) normal (1, 0, 0) x (0, 1, 0)
  circle A0 centre (-10, 0) radius 0.5
  circle A1 centre (-20, 0) radius 0.5
  circle A2 centre (-30, 0) radius 0.5
  circle A3 centre (-40, 0) radius 0.5
  circle A4 centre (-50, 0) radius 0.5
  point P0 (-115, 0)
  dimension "d12" = 1
  dimension "d13" = 1
  dimension "d14" = 1
  dimension "d15" = 1
  dimension "d16" = 1
extrude "Extrusion5" cut sketch "Sketch8" against normal mid plane 3
ref_plane "Work Plane7" through (-3.5, 115, 0) normal (1, 0, 0) x (0, 1, 0)
sketch "Sketch9" plane through (-3.5, 115, 0) normal (1, 0, 0) x (0, 1, 0)
  circle A0 centre (-60, 0) radius 0.5
  circle A1 centre (-70, 0) radius 0.5
  circle A2 centre (-80, 0) radius 0.5
  circle A3 centre (-90, 0) radius 0.5
  circle A4 centre (-100, 0) radius 0.5
  circle A5 centre (-110, 0) radius 0.5
  point P0 (-115, 0)
  dimension "d19" = 1
  dimension "d20" = 1
  dimension "d21" = 1
  dimension "d22" = 1
  dimension "d23" = 1
  dimension "d24" = 1
extrude "Extrusion6" cut sketch "Sketch9" along normal mid plane 3 contours A1 | A2 | A3 | A4 | A5
properties part number "trail 5" material "Iron, Cast"
